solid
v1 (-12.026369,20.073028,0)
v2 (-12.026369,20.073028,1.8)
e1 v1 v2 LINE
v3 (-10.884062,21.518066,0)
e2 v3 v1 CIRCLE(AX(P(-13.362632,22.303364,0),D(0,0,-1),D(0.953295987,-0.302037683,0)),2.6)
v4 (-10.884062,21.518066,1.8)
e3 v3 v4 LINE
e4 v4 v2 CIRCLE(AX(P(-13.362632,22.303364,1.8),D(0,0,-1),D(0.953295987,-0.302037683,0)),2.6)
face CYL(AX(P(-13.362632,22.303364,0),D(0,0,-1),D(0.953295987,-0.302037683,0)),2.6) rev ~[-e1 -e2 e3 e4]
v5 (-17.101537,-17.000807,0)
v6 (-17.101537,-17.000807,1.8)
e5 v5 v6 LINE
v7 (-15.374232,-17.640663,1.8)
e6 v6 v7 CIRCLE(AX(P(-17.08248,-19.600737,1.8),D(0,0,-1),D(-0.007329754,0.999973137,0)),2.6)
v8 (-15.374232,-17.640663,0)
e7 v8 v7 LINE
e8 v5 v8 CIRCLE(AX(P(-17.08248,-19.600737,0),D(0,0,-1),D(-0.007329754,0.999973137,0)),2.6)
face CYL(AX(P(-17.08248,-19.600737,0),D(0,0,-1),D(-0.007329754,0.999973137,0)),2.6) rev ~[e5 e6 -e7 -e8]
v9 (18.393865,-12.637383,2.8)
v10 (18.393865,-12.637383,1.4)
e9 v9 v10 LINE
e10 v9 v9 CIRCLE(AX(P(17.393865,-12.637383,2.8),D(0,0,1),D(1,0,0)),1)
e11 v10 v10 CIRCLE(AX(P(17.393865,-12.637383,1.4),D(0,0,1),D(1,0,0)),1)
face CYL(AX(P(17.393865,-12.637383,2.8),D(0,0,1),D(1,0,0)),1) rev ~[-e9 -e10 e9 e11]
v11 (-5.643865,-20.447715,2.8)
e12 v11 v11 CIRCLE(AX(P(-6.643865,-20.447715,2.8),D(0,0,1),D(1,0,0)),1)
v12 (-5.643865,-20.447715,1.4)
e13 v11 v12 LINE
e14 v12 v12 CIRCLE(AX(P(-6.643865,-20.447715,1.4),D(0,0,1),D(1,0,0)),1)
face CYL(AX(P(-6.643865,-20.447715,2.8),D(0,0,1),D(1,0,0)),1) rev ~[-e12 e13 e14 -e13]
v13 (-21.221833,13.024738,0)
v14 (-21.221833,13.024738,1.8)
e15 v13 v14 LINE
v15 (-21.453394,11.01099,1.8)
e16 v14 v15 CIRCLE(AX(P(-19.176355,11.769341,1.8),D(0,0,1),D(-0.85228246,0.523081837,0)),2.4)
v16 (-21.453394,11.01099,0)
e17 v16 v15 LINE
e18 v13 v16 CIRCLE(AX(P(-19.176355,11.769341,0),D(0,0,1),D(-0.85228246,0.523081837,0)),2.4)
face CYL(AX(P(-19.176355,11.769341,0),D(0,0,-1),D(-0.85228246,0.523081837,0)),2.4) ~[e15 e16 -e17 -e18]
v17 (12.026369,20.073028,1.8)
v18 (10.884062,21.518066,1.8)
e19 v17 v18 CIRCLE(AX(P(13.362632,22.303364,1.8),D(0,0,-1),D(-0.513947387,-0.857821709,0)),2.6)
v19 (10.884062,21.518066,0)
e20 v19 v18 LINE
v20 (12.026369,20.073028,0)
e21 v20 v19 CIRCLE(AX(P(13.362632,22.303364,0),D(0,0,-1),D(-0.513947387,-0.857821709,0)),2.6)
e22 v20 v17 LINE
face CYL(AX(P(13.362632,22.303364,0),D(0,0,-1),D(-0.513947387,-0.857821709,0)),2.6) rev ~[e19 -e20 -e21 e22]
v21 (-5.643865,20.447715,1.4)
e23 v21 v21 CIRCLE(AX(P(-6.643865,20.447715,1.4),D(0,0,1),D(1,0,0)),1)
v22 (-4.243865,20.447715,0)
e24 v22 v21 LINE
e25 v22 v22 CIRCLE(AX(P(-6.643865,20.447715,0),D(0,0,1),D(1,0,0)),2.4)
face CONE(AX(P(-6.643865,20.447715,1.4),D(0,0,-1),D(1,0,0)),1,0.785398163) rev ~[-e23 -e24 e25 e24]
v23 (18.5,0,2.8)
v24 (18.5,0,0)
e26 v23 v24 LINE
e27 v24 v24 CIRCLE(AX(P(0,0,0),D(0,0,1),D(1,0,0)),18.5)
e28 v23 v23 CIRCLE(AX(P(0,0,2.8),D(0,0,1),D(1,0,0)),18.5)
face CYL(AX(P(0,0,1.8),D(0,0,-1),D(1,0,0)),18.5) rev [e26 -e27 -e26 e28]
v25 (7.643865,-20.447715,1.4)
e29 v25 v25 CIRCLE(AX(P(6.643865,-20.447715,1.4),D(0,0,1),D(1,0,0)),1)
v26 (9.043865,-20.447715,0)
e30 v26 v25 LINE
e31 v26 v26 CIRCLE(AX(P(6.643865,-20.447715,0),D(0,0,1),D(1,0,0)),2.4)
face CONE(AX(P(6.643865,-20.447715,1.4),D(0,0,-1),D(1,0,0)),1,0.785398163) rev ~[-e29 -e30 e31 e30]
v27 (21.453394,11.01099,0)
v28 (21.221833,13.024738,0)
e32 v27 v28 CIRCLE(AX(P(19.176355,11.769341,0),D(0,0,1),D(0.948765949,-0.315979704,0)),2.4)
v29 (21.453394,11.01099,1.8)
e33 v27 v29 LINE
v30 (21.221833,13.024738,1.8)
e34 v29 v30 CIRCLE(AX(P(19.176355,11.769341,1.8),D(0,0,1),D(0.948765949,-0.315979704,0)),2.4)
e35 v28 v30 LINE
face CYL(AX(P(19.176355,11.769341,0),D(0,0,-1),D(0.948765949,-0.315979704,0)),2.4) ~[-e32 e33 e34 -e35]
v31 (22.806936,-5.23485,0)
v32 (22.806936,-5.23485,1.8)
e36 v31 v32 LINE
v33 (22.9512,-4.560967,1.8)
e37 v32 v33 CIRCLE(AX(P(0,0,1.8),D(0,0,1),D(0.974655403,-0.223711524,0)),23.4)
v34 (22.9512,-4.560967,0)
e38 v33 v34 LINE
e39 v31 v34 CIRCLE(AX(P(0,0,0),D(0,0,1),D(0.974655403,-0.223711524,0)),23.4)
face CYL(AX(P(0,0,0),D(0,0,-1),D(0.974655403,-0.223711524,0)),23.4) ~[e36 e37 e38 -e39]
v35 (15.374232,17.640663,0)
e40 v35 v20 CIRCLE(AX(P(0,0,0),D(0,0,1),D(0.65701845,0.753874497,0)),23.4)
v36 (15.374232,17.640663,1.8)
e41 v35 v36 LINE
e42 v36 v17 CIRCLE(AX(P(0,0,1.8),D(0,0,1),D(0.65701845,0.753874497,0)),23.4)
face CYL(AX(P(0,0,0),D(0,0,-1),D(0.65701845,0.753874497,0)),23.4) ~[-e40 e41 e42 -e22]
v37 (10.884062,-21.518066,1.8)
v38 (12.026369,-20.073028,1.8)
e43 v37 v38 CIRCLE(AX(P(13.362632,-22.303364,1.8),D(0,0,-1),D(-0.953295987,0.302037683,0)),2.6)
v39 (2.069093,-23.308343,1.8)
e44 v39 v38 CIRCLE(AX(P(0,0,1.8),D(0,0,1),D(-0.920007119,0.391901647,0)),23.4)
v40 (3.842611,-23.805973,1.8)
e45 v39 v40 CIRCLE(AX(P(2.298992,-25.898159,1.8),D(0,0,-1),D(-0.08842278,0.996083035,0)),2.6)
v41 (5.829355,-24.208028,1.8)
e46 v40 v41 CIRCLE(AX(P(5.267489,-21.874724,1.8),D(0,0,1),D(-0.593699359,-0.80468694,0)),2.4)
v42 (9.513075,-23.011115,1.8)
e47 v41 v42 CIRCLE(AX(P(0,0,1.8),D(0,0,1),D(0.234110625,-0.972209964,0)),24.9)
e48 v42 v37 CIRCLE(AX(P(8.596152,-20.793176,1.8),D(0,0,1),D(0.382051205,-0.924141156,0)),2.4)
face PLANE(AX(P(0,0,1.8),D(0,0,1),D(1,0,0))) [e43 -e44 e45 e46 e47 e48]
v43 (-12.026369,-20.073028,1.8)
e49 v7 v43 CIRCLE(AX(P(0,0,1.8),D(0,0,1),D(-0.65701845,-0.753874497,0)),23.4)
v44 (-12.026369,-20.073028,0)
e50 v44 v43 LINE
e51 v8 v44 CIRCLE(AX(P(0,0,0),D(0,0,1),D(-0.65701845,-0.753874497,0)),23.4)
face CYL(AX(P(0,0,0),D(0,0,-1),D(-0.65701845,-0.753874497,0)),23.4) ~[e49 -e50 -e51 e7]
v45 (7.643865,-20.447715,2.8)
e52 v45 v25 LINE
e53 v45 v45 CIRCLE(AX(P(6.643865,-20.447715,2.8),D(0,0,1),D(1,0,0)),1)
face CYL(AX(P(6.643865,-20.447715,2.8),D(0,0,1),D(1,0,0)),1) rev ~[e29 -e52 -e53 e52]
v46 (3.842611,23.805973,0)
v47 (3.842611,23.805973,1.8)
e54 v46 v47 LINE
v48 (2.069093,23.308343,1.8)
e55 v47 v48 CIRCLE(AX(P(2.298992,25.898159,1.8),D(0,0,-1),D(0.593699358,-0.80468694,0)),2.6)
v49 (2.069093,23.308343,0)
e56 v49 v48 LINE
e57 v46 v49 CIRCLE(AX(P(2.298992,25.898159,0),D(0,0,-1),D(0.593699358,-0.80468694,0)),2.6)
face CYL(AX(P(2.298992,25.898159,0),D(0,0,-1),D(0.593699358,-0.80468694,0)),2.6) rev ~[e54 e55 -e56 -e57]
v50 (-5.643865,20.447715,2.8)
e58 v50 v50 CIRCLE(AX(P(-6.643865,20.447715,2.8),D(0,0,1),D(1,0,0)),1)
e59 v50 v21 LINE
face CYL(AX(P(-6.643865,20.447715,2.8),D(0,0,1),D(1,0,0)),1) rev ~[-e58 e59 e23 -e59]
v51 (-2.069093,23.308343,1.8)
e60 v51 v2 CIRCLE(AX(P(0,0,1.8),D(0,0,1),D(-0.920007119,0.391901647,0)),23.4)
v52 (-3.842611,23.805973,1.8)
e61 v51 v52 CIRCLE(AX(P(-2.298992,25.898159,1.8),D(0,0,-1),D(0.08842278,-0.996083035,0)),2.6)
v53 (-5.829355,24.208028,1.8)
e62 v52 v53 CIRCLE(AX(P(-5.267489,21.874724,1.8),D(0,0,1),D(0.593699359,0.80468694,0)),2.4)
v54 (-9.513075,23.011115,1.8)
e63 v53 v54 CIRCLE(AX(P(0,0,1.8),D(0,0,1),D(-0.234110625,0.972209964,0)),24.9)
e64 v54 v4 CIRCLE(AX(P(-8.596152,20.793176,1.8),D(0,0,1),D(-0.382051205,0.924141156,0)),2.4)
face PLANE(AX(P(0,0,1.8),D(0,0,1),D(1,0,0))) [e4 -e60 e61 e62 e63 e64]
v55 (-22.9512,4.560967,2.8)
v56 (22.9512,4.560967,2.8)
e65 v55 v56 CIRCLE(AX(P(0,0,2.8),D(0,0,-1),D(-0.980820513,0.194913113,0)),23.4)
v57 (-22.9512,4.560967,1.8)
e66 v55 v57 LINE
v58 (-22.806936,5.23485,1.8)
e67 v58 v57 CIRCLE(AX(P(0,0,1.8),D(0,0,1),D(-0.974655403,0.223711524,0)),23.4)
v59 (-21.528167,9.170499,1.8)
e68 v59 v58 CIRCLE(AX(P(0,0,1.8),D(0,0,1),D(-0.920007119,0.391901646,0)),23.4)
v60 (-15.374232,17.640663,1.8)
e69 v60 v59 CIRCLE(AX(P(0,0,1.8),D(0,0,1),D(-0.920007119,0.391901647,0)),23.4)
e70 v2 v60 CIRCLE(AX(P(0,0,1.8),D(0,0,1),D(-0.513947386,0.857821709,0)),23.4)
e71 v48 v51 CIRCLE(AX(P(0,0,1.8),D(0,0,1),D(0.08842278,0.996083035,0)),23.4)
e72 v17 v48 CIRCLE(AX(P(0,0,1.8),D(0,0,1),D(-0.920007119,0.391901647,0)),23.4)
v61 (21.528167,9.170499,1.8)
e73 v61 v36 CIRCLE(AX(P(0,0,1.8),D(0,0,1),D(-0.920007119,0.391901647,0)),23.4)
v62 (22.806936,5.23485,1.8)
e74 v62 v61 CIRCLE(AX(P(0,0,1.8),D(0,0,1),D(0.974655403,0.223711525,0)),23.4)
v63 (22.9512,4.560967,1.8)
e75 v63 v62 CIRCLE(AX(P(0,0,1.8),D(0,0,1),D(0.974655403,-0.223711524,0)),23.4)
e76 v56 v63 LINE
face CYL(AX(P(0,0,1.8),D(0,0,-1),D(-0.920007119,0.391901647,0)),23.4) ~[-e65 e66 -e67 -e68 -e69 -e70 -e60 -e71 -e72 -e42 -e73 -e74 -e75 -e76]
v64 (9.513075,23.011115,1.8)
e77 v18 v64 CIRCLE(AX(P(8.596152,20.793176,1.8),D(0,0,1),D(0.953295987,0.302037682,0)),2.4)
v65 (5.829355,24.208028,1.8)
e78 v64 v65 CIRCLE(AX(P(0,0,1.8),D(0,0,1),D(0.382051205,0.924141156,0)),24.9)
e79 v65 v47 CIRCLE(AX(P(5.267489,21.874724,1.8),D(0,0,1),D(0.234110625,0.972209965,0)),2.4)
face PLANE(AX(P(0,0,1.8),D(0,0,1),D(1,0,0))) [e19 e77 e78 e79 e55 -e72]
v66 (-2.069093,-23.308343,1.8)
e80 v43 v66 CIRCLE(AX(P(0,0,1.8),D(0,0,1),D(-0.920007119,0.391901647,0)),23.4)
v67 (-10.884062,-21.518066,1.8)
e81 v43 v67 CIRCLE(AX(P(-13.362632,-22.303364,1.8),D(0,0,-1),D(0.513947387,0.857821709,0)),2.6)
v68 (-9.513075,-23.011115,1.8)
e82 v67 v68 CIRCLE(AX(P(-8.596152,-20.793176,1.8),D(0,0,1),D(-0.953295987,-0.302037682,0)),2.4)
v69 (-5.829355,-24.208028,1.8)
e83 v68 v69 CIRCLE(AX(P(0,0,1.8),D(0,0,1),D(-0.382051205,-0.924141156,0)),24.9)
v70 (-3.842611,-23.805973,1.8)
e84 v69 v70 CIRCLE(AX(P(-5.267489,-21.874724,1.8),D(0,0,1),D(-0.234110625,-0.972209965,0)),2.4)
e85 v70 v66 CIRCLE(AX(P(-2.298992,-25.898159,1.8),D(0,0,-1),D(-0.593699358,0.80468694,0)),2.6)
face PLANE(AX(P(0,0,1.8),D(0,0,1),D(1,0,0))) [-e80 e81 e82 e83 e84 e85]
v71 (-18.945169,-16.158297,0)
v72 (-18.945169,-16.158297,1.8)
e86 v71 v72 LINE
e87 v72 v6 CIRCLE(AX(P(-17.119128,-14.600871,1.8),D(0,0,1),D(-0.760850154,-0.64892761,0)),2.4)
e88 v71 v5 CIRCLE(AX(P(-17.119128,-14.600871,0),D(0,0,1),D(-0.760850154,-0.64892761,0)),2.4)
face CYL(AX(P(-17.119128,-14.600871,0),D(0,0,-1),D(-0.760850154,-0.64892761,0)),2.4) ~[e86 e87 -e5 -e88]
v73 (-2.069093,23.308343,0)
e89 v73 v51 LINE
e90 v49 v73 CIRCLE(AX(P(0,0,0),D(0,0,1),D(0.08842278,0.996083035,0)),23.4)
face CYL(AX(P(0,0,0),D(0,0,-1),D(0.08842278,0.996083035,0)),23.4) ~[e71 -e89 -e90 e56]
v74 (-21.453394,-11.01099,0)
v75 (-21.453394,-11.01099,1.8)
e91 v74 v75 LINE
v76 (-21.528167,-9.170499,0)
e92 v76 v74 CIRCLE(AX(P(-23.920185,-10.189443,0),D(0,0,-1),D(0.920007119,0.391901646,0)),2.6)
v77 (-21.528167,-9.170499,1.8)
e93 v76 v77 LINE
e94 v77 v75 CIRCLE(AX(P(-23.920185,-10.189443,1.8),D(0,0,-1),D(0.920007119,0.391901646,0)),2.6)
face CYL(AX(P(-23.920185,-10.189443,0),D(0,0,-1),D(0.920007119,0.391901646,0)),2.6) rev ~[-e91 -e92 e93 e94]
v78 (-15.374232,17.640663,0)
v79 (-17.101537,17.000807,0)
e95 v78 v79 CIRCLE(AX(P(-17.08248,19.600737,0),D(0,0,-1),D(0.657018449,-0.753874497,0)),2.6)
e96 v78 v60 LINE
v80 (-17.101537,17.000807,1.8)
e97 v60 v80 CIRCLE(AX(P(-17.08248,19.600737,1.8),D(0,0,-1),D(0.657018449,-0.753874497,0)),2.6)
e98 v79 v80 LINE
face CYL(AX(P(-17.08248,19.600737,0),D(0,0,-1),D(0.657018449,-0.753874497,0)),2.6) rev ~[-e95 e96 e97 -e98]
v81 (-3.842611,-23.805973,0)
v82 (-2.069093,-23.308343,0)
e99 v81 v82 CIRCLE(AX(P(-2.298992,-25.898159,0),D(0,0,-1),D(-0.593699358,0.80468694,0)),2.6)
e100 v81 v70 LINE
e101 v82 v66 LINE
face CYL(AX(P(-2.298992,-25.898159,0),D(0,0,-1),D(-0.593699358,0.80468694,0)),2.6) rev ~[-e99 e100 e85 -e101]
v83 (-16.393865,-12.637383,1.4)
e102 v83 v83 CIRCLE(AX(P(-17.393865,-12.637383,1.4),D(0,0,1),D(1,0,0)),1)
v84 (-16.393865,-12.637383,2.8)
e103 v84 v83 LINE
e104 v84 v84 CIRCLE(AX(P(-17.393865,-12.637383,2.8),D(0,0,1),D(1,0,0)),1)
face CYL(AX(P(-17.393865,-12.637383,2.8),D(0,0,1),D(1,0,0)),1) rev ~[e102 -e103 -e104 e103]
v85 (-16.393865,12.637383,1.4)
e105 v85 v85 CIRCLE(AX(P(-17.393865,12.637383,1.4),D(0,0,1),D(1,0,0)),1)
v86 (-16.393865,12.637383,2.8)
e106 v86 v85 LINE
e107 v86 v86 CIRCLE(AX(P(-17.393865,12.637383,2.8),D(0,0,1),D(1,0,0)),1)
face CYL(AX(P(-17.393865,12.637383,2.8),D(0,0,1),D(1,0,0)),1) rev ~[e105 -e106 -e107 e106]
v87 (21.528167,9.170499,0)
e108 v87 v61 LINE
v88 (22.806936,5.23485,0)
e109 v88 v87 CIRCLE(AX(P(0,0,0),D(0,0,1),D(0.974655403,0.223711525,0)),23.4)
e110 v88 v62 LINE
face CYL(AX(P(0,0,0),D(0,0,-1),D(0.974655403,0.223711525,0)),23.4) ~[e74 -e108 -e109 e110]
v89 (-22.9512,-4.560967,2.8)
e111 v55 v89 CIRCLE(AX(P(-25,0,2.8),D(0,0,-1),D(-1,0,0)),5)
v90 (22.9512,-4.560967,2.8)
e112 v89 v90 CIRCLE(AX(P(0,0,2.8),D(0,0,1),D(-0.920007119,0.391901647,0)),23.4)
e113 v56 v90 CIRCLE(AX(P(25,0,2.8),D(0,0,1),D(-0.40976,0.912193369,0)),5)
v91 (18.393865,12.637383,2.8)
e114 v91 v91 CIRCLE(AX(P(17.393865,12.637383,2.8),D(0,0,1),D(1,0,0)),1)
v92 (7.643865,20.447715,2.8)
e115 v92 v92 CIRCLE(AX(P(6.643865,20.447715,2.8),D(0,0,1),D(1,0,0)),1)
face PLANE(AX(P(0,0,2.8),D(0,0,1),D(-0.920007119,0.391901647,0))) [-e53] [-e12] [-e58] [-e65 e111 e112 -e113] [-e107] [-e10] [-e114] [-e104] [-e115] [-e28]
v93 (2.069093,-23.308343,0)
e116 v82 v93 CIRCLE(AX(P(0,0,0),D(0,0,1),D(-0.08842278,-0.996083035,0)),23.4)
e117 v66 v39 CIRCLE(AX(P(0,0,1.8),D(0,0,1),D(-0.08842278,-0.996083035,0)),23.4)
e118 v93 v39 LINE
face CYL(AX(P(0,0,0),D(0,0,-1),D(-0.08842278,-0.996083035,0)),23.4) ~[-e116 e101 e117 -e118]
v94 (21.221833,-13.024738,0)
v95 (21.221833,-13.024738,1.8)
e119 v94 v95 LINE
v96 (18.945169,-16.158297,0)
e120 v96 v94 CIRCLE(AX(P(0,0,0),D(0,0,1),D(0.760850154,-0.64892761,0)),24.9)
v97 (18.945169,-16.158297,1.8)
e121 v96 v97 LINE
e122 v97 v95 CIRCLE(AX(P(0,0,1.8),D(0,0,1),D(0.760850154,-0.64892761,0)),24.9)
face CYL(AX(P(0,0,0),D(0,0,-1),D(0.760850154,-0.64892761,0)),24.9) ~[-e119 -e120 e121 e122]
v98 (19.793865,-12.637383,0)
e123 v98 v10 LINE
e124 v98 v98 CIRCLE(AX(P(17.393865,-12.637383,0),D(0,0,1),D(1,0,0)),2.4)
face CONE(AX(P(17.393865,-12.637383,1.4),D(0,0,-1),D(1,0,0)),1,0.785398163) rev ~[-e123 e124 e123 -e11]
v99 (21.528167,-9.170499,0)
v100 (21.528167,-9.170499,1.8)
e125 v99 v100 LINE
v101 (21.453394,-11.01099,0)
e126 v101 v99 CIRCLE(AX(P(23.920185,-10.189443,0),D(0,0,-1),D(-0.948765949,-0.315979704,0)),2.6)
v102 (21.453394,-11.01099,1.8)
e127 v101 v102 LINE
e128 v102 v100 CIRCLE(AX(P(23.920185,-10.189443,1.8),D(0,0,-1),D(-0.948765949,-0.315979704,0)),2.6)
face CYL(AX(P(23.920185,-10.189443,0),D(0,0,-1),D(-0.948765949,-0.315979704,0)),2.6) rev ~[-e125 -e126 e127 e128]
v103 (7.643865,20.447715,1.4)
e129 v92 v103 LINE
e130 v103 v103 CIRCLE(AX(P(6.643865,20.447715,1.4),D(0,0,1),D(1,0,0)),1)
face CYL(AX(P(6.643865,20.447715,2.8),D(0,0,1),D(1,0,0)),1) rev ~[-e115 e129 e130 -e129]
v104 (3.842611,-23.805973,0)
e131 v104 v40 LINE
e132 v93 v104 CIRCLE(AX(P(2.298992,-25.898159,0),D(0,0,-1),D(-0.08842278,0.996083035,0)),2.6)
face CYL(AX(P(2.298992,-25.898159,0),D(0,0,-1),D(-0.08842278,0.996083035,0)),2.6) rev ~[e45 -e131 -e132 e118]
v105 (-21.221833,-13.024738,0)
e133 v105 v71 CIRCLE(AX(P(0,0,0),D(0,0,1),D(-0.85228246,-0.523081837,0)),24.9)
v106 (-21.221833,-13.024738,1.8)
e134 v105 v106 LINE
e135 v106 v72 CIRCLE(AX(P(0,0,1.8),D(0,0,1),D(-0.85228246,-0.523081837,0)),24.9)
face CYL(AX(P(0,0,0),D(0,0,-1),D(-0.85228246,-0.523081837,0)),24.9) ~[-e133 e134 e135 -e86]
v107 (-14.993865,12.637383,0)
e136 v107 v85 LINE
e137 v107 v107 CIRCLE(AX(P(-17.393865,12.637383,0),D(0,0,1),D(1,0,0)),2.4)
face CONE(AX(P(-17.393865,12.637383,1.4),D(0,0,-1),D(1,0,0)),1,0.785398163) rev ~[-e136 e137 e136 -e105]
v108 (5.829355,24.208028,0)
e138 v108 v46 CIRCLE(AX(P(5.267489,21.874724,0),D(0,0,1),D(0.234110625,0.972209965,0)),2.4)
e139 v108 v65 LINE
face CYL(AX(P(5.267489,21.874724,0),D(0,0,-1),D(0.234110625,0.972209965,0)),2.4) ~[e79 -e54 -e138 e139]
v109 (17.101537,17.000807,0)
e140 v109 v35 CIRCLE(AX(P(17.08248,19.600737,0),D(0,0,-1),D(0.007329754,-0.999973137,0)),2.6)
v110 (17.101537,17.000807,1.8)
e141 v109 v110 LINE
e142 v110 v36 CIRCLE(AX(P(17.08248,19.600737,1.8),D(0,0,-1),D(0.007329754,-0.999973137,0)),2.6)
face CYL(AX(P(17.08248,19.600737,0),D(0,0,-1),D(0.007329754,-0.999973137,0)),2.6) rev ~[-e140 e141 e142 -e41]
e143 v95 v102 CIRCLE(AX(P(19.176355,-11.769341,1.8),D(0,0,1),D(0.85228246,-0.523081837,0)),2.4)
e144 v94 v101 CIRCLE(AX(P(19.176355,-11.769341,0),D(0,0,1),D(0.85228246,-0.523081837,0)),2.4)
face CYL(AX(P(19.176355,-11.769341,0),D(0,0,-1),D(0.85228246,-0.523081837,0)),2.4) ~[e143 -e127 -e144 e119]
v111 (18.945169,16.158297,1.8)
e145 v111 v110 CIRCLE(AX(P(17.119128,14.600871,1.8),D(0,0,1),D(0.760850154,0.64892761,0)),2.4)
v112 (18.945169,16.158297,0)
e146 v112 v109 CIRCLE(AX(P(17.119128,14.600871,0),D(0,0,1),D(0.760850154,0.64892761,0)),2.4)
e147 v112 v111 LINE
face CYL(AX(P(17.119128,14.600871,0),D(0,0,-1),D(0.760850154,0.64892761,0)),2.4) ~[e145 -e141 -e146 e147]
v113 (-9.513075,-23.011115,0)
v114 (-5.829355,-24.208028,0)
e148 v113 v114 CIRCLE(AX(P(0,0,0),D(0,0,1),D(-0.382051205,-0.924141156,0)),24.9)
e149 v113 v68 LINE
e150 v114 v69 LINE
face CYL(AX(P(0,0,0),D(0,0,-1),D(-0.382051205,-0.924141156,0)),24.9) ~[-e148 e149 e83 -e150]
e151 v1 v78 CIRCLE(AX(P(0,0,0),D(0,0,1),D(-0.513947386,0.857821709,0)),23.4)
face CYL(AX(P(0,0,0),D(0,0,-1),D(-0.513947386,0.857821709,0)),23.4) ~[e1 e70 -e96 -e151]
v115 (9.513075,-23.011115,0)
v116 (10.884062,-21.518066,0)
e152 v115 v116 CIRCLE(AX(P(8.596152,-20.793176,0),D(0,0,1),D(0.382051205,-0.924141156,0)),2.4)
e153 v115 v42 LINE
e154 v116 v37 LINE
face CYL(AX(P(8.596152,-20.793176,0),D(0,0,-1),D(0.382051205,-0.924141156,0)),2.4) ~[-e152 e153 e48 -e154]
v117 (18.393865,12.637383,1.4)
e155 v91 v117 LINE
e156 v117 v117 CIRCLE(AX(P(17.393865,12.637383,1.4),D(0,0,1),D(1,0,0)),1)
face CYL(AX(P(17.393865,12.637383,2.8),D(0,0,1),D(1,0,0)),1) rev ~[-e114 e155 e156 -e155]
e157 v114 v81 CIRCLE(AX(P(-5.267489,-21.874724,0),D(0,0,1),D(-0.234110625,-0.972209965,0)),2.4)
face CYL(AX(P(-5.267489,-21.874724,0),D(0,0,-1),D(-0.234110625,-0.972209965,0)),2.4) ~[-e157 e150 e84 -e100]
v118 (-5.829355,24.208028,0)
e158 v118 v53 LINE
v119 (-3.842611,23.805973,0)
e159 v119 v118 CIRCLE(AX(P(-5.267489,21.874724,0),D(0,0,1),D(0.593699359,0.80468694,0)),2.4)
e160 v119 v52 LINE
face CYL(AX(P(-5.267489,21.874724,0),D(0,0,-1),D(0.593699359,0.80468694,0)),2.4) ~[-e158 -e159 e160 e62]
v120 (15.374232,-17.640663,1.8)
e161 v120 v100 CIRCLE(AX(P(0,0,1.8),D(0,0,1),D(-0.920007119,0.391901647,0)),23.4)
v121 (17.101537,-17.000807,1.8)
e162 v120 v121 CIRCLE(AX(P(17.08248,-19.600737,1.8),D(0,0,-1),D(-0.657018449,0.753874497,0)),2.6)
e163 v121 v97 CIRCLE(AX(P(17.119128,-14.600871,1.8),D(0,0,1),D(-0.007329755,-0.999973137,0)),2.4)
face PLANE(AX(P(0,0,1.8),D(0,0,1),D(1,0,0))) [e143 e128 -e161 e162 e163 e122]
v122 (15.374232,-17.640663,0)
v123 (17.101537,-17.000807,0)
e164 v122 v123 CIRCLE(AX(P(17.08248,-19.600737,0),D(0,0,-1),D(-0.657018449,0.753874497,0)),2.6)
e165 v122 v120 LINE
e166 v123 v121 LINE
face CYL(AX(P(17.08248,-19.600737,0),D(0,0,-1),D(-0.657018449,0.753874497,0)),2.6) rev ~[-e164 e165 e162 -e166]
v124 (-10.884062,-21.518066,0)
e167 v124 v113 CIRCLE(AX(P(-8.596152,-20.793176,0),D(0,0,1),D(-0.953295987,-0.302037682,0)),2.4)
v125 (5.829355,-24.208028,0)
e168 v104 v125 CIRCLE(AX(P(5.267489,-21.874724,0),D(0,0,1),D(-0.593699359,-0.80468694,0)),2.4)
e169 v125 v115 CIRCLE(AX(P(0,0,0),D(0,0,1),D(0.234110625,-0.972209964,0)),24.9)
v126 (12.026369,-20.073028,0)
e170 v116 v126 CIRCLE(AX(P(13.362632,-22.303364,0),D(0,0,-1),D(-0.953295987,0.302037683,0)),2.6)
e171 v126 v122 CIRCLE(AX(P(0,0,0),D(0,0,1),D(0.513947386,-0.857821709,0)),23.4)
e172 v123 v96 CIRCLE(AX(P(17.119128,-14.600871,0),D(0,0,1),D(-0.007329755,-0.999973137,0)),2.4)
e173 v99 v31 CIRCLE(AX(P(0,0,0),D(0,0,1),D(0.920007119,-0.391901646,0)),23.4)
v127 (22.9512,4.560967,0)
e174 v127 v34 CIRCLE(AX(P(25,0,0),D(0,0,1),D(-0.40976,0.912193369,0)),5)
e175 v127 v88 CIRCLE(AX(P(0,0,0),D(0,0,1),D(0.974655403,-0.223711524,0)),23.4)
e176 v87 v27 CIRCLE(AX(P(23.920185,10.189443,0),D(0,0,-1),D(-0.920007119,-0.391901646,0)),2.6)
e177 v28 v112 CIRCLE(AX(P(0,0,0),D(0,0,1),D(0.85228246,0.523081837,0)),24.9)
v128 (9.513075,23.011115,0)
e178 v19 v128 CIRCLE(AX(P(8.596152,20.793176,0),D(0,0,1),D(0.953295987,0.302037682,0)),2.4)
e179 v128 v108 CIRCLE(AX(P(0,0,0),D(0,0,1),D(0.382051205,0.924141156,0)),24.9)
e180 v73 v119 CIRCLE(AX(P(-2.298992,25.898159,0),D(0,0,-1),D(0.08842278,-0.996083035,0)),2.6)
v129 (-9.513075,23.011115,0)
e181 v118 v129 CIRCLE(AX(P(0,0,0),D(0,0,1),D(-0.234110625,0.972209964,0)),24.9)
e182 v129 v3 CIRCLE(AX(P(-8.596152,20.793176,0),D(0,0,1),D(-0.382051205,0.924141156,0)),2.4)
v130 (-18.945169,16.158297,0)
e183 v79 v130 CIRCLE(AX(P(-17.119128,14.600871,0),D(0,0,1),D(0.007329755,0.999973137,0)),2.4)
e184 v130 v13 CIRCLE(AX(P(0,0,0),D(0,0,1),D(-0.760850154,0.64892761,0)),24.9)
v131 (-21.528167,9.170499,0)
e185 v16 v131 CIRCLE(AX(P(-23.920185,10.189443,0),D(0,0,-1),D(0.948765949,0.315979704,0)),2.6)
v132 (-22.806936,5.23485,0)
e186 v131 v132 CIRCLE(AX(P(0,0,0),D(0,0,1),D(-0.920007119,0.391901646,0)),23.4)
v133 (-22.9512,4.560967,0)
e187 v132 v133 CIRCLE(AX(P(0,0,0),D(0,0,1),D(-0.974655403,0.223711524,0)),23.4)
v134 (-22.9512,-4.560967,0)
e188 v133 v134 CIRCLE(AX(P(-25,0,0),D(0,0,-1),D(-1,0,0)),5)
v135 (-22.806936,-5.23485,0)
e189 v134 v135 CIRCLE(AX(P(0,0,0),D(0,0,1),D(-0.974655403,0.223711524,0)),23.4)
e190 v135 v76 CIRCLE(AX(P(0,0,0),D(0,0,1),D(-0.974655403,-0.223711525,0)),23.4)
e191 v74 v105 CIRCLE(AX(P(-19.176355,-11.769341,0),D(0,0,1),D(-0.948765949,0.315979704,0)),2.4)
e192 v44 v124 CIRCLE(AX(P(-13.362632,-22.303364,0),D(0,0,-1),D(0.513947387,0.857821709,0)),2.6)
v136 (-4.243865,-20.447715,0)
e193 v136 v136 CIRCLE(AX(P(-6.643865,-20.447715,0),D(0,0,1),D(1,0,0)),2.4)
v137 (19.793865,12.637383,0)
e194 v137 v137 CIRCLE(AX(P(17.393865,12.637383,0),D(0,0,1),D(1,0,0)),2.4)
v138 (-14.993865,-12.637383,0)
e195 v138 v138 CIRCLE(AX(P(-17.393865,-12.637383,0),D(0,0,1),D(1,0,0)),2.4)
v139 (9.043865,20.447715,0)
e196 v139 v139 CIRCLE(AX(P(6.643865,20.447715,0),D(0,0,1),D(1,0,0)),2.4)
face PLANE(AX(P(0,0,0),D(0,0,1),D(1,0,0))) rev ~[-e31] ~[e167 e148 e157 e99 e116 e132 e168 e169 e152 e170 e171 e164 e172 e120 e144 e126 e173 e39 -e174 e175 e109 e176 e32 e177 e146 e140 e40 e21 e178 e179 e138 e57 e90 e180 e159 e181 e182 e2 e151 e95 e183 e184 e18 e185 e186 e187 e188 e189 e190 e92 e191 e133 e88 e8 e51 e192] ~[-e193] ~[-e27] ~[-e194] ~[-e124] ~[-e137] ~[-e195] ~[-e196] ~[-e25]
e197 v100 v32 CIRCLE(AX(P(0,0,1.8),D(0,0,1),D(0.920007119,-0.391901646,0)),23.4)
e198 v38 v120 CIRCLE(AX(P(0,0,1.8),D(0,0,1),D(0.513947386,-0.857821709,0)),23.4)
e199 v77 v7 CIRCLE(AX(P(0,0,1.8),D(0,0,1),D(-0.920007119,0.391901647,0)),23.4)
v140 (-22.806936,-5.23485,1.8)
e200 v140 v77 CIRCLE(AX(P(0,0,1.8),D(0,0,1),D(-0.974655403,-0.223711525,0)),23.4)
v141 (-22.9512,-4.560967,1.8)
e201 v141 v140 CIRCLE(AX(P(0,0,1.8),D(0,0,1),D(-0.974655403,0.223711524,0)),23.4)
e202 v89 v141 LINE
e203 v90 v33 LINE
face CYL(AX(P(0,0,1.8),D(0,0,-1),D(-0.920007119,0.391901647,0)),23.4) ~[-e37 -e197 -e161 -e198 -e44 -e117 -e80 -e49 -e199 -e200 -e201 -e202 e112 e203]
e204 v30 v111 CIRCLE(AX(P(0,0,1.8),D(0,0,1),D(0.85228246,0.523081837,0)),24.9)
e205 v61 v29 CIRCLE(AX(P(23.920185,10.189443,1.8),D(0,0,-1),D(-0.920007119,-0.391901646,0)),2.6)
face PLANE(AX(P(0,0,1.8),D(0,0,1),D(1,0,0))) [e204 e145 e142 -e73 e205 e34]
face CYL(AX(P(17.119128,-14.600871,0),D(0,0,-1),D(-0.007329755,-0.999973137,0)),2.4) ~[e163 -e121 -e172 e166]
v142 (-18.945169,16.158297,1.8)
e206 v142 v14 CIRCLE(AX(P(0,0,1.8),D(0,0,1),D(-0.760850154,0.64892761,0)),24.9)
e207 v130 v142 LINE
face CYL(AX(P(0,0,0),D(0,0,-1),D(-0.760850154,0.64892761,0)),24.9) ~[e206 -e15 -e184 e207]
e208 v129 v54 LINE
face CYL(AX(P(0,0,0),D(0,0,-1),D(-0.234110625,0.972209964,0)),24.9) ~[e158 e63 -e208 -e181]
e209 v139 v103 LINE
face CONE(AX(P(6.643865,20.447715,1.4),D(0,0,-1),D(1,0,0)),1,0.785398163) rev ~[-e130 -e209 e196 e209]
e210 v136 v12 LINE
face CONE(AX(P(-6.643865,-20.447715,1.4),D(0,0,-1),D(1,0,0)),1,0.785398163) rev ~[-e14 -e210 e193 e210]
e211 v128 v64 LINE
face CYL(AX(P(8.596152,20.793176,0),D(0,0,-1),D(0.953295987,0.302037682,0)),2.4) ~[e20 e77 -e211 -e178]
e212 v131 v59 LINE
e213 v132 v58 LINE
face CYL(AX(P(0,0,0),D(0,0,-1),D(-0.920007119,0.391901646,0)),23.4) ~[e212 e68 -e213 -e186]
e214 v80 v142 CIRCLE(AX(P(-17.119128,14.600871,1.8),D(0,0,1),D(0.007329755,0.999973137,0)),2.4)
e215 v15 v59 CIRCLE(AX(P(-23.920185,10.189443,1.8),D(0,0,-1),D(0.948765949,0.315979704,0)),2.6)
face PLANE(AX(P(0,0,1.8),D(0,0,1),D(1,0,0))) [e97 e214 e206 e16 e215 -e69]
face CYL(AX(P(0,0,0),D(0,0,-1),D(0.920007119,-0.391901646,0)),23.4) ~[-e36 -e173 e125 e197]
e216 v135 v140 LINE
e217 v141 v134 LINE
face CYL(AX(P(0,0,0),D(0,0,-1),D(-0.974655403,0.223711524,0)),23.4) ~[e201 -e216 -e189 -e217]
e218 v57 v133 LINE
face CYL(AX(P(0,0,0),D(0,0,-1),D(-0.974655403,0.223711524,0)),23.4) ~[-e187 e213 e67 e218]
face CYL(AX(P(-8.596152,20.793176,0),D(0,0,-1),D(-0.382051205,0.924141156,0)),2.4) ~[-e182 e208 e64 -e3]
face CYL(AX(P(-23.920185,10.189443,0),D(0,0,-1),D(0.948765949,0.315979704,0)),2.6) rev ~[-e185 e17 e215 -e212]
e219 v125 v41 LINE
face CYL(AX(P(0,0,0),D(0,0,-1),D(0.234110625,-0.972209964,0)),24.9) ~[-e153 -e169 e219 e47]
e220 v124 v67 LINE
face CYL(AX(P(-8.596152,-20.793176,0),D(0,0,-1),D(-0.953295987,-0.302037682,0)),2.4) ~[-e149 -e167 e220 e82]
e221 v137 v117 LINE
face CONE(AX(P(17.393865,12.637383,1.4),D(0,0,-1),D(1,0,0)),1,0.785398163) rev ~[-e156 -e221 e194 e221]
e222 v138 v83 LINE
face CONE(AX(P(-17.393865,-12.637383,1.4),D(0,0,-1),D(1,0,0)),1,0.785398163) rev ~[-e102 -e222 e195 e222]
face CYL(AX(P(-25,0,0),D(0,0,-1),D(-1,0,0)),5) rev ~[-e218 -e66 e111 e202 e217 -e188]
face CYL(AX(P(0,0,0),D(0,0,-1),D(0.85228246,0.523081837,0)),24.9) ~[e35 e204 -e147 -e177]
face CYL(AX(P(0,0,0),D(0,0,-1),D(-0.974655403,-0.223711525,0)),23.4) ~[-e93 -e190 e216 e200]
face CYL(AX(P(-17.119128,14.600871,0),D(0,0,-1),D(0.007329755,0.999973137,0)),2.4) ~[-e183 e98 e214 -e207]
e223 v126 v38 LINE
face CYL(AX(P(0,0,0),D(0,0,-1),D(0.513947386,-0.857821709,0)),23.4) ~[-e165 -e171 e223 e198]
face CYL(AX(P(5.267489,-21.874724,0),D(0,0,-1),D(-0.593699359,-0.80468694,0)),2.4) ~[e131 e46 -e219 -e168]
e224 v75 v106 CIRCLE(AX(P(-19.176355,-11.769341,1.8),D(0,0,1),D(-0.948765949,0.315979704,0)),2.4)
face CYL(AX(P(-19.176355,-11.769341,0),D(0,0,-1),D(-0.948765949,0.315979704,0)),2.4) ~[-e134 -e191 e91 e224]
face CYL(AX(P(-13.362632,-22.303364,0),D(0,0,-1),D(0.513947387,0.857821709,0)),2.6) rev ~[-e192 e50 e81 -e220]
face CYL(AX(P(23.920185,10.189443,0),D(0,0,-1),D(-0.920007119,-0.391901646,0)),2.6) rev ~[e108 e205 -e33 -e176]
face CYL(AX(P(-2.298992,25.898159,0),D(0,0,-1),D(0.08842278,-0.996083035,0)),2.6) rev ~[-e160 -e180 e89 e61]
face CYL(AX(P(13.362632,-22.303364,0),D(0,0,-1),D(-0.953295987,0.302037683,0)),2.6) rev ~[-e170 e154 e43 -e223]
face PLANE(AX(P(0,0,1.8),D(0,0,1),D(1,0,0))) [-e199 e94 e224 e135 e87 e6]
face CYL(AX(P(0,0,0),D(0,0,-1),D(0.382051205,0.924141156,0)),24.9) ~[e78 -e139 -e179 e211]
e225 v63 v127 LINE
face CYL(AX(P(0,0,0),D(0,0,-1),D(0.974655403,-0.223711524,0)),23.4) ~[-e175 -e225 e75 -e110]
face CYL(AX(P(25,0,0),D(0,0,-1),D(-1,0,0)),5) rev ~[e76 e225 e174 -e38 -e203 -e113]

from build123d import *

# Parameters (mm, degrees)
SKIZZE1_R                       = 18.5
LINEAR_AUSTRAGEN1_DEPTH         = 1.8
SKIZZE2_R                       = 23.4
SKIZZE2_R_2                     = 18.5
LINEAR_AUSTRAGEN2_DEPTH         = 1
SKIZZE3_R                       = 1
SCHNITT_LINEAR_AUSTRAGEN1_DEPTH = 34.832857329
CHAMFER1_SIZE                   = 1.4
SKETCH1_R                       = 5
CUT_EXTRUDE1_DEPTH              = 10


with BuildPart() as part:
    # Skizze1 → Linear austragen1 (new body)
    with BuildSketch(Plane.XY):
        with BuildLine():
            ThreePointArc((-22.806936421, 5.234849671), (-23.4, 0), (-22.806936421, -5.234849671))
            ThreePointArc((-22.806936421, -5.234849671), (-22.254722481, -7.230997668), (-21.528166589, -9.170498531))
            ThreePointArc((-21.528166589, -9.170498531), (-21.322328126, -10.083900652), (-21.453393631, -11.010990043))
            ThreePointArc((-21.453393631, -11.010990043), (-21.560643818, -12.043510102), (-21.221833257, -13.024737741))
            ThreePointArc((-21.221833257, -13.024737741), (-20.14452316, -14.635852782), (-18.94516883, -16.158297497))
            ThreePointArc((-18.94516883, -16.158297497), (-18.116664111, -16.783741505), (-17.10153705, -17.000806761))
            ThreePointArc((-17.10153705, -17.000806761), (-16.179321175, -17.162642436), (-15.37423172, -17.640663225))
            ThreePointArc((-15.37423172, -17.640663225), (-13.754174904, -18.930997668), (-12.026368835, -20.073027989))
            ThreePointArc((-12.026368835, -20.073027989), (-11.322957725, -20.690997014), (-10.884062474, -21.518066457))
            ThreePointArc((-10.884062474, -21.518066457), (-10.363929634, -22.416432811), (-9.513074997, -23.011114795))
            ThreePointArc((-9.513074997, -23.011114795), (-7.69452316, -23.681307256), (-5.829354574, -24.208028116))
            ThreePointArc((-5.829354574, -24.208028116), (-4.791453413, -24.227040092), (-3.842610612, -23.805972857))
            ThreePointArc((-3.842610612, -23.805972857), (-3.001397674, -23.394835778), (-2.069093052, -23.308343012))
            ThreePointArc((-2.069093052, -23.308343012), (0, -23.4), (2.069093052, -23.308343012))
            ThreePointArc((2.069093052, -23.308343012), (3.001397674, -23.394835778), (3.842610612, -23.805972857))
            ThreePointArc((3.842610612, -23.805972857), (4.791453413, -24.227040092), (5.829354574, -24.208028116))
            ThreePointArc((5.829354574, -24.208028116), (7.69452316, -23.681307256), (9.513074997, -23.011114795))
            ThreePointArc((9.513074997, -23.011114795), (10.363929634, -22.416432811), (10.884062474, -21.518066457))
            ThreePointArc((10.884062474, -21.518066457), (11.322957725, -20.690997014), (12.026368835, -20.073027989))
            ThreePointArc((12.026368835, -20.073027989), (13.754174904, -18.930997668), (15.37423172, -17.640663225))
            ThreePointArc((15.37423172, -17.640663225), (16.179321175, -17.162642436), (17.10153705, -17.000806761))
            ThreePointArc((17.10153705, -17.000806761), (18.116664111, -16.783741505), (18.94516883, -16.158297497))
            ThreePointArc((18.94516883, -16.158297497), (20.14452316, -14.635852782), (21.221833257, -13.024737741))
            ThreePointArc((21.221833257, -13.024737741), (21.560643818, -12.043510102), (21.453393631, -11.010990043))
            ThreePointArc((21.453393631, -11.010990043), (21.322328126, -10.083900652), (21.528166589, -9.170498531))
            ThreePointArc((21.528166589, -9.170498531), (22.254722481, -7.230997668), (22.806936421, -5.234849671))
            ThreePointArc((22.806936421, -5.234849671), (23.4, 0), (22.806936421, 5.234849671))
            ThreePointArc((22.806936421, 5.234849671), (22.254722481, 7.230997668), (21.528166589, 9.170498531))
            ThreePointArc((21.528166589, 9.170498531), (21.322328126, 10.083900652), (21.453393631, 11.010990043))
            ThreePointArc((21.453393631, 11.010990043), (21.560643818, 12.043510102), (21.221833257, 13.024737741))
            ThreePointArc((21.221833257, 13.024737741), (20.14452316, 14.635852782), (18.94516883, 16.158297497))
            ThreePointArc((18.94516883, 16.158297497), (18.116664111, 16.783741505), (17.10153705, 17.000806761))
            ThreePointArc((17.10153705, 17.000806761), (16.179321175, 17.162642436), (15.37423172, 17.640663225))
            ThreePointArc((15.37423172, 17.640663225), (13.754174904, 18.930997668), (12.026368835, 20.073027989))
            ThreePointArc((12.026368835, 20.073027989), (11.322957725, 20.690997014), (10.884062474, 21.518066457))
            ThreePointArc((10.884062474, 21.518066457), (10.363929634, 22.416432811), (9.513074997, 23.011114795))
            ThreePointArc((9.513074997, 23.011114795), (7.69452316, 23.681307256), (5.829354574, 24.208028116))
            ThreePointArc((5.829354574, 24.208028116), (4.791453413, 24.227040092), (3.842610612, 23.805972857))
            ThreePointArc((3.842610612, 23.805972857), (3.001397674, 23.394835778), (2.069093052, 23.308343012))
            ThreePointArc((2.069093052, 23.308343012), (0, 23.4), (-2.069093052, 23.308343012))
            ThreePointArc((-2.069093052, 23.308343012), (-3.001397674, 23.394835778), (-3.842610612, 23.805972857))
            ThreePointArc((-3.842610612, 23.805972857), (-4.791453413, 24.227040092), (-5.829354574, 24.208028116))
            ThreePointArc((-5.829354574, 24.208028116), (-7.69452316, 23.681307256), (-9.513074997, 23.011114795))
            ThreePointArc((-9.513074997, 23.011114795), (-10.363929634, 22.416432811), (-10.884062474, 21.518066457))
            ThreePointArc((-10.884062474, 21.518066457), (-11.322957725, 20.690997014), (-12.026368835, 20.073027989))
            ThreePointArc((-12.026368835, 20.073027989), (-13.754174904, 18.930997668), (-15.37423172, 17.640663225))
            ThreePointArc((-15.37423172, 17.640663225), (-16.179321175, 17.162642436), (-17.10153705, 17.000806761))
            ThreePointArc((-17.10153705, 17.000806761), (-18.116664111, 16.783741505), (-18.94516883, 16.158297497))
            ThreePointArc((-18.94516883, 16.158297497), (-20.14452316, 14.635852782), (-21.221833257, 13.024737741))
            ThreePointArc((-21.221833257, 13.024737741), (-21.560643818, 12.043510102), (-21.453393631, 11.010990043))
            ThreePointArc((-21.453393631, 11.010990043), (-21.322328126, 10.083900652), (-21.528166589, 9.170498531))
            ThreePointArc((-21.528166589, 9.170498531), (-22.254722481, 7.230997668), (-22.806936421, 5.234849671))
        make_face()
        Circle(SKIZZE1_R, mode=Mode.SUBTRACT)
    extrude(amount=LINEAR_AUSTRAGEN1_DEPTH)

    # Skizze2 → Linear austragen2 (add)
    with BuildSketch(Plane.XY.offset(1.8)):
        with Locations(Location((0, 0, 0), (0, 0, 156.927122734))):
            Circle(SKIZZE2_R)
        Circle(SKIZZE2_R_2, mode=Mode.SUBTRACT)
    extrude(amount=LINEAR_AUSTRAGEN2_DEPTH)

    # Skizze3 → Schnitt-Linear austragen1 (cut, through all)
    with BuildSketch(Plane.XY.offset(2.8)):
        with Locations((-6.643865379, 20.4477151)):
            Circle(SKIZZE3_R)
        with Locations((6.643865379, 20.4477151)):
            Circle(SKIZZE3_R)
        with Locations((17.393865379, 12.637382924)):
            Circle(SKIZZE3_R)
        with Locations((17.393865379, -12.637382924)):
            Circle(SKIZZE3_R)
        with Locations((6.643865379, -20.4477151)):
            Circle(SKIZZE3_R)
        with Locations((-6.643865379, -20.4477151)):
            Circle(SKIZZE3_R)
        with Locations((-17.393865379, -12.637382924)):
            Circle(SKIZZE3_R)
        with Locations((-17.393865379, 12.637382924)):
            Circle(SKIZZE3_R)
    extrude(amount=-SCHNITT_LINEAR_AUSTRAGEN1_DEPTH, mode=Mode.SUBTRACT)

    # Chamfer1
    chamfer1_edges = [part.edges().sort_by_distance(p)[0] for p in [
        (-7.643865379, 20.4477151, 0),
        (5.643865379, 20.4477151, 0),
        (16.393865379, 12.637382924, 0),
        (16.393865379, -12.637382924, 0),
        (5.643865379, -20.4477151, 0),
        (-7.643865379, -20.4477151, 0),
        (-18.393865379, -12.637382924, 0),
        (-18.393865379, 12.637382924, 0),
    ]]
    chamfer(chamfer1_edges, length=CHAMFER1_SIZE)

    # Sketch1 → Cut-Extrude1 (cut)
    with BuildSketch(Plane(origin=(0, 0, 0), x_dir=(-1, 0, 0), z_dir=(0, 0, -1))):
        with Locations((-25, 0)):
            Circle(SKETCH1_R)
        with Locations((25, 0)):
            Circle(SKETCH1_R)
    extrude(amount=-CUT_EXTRUDE1_DEPTH, mode=Mode.SUBTRACT)


solid = part.part
